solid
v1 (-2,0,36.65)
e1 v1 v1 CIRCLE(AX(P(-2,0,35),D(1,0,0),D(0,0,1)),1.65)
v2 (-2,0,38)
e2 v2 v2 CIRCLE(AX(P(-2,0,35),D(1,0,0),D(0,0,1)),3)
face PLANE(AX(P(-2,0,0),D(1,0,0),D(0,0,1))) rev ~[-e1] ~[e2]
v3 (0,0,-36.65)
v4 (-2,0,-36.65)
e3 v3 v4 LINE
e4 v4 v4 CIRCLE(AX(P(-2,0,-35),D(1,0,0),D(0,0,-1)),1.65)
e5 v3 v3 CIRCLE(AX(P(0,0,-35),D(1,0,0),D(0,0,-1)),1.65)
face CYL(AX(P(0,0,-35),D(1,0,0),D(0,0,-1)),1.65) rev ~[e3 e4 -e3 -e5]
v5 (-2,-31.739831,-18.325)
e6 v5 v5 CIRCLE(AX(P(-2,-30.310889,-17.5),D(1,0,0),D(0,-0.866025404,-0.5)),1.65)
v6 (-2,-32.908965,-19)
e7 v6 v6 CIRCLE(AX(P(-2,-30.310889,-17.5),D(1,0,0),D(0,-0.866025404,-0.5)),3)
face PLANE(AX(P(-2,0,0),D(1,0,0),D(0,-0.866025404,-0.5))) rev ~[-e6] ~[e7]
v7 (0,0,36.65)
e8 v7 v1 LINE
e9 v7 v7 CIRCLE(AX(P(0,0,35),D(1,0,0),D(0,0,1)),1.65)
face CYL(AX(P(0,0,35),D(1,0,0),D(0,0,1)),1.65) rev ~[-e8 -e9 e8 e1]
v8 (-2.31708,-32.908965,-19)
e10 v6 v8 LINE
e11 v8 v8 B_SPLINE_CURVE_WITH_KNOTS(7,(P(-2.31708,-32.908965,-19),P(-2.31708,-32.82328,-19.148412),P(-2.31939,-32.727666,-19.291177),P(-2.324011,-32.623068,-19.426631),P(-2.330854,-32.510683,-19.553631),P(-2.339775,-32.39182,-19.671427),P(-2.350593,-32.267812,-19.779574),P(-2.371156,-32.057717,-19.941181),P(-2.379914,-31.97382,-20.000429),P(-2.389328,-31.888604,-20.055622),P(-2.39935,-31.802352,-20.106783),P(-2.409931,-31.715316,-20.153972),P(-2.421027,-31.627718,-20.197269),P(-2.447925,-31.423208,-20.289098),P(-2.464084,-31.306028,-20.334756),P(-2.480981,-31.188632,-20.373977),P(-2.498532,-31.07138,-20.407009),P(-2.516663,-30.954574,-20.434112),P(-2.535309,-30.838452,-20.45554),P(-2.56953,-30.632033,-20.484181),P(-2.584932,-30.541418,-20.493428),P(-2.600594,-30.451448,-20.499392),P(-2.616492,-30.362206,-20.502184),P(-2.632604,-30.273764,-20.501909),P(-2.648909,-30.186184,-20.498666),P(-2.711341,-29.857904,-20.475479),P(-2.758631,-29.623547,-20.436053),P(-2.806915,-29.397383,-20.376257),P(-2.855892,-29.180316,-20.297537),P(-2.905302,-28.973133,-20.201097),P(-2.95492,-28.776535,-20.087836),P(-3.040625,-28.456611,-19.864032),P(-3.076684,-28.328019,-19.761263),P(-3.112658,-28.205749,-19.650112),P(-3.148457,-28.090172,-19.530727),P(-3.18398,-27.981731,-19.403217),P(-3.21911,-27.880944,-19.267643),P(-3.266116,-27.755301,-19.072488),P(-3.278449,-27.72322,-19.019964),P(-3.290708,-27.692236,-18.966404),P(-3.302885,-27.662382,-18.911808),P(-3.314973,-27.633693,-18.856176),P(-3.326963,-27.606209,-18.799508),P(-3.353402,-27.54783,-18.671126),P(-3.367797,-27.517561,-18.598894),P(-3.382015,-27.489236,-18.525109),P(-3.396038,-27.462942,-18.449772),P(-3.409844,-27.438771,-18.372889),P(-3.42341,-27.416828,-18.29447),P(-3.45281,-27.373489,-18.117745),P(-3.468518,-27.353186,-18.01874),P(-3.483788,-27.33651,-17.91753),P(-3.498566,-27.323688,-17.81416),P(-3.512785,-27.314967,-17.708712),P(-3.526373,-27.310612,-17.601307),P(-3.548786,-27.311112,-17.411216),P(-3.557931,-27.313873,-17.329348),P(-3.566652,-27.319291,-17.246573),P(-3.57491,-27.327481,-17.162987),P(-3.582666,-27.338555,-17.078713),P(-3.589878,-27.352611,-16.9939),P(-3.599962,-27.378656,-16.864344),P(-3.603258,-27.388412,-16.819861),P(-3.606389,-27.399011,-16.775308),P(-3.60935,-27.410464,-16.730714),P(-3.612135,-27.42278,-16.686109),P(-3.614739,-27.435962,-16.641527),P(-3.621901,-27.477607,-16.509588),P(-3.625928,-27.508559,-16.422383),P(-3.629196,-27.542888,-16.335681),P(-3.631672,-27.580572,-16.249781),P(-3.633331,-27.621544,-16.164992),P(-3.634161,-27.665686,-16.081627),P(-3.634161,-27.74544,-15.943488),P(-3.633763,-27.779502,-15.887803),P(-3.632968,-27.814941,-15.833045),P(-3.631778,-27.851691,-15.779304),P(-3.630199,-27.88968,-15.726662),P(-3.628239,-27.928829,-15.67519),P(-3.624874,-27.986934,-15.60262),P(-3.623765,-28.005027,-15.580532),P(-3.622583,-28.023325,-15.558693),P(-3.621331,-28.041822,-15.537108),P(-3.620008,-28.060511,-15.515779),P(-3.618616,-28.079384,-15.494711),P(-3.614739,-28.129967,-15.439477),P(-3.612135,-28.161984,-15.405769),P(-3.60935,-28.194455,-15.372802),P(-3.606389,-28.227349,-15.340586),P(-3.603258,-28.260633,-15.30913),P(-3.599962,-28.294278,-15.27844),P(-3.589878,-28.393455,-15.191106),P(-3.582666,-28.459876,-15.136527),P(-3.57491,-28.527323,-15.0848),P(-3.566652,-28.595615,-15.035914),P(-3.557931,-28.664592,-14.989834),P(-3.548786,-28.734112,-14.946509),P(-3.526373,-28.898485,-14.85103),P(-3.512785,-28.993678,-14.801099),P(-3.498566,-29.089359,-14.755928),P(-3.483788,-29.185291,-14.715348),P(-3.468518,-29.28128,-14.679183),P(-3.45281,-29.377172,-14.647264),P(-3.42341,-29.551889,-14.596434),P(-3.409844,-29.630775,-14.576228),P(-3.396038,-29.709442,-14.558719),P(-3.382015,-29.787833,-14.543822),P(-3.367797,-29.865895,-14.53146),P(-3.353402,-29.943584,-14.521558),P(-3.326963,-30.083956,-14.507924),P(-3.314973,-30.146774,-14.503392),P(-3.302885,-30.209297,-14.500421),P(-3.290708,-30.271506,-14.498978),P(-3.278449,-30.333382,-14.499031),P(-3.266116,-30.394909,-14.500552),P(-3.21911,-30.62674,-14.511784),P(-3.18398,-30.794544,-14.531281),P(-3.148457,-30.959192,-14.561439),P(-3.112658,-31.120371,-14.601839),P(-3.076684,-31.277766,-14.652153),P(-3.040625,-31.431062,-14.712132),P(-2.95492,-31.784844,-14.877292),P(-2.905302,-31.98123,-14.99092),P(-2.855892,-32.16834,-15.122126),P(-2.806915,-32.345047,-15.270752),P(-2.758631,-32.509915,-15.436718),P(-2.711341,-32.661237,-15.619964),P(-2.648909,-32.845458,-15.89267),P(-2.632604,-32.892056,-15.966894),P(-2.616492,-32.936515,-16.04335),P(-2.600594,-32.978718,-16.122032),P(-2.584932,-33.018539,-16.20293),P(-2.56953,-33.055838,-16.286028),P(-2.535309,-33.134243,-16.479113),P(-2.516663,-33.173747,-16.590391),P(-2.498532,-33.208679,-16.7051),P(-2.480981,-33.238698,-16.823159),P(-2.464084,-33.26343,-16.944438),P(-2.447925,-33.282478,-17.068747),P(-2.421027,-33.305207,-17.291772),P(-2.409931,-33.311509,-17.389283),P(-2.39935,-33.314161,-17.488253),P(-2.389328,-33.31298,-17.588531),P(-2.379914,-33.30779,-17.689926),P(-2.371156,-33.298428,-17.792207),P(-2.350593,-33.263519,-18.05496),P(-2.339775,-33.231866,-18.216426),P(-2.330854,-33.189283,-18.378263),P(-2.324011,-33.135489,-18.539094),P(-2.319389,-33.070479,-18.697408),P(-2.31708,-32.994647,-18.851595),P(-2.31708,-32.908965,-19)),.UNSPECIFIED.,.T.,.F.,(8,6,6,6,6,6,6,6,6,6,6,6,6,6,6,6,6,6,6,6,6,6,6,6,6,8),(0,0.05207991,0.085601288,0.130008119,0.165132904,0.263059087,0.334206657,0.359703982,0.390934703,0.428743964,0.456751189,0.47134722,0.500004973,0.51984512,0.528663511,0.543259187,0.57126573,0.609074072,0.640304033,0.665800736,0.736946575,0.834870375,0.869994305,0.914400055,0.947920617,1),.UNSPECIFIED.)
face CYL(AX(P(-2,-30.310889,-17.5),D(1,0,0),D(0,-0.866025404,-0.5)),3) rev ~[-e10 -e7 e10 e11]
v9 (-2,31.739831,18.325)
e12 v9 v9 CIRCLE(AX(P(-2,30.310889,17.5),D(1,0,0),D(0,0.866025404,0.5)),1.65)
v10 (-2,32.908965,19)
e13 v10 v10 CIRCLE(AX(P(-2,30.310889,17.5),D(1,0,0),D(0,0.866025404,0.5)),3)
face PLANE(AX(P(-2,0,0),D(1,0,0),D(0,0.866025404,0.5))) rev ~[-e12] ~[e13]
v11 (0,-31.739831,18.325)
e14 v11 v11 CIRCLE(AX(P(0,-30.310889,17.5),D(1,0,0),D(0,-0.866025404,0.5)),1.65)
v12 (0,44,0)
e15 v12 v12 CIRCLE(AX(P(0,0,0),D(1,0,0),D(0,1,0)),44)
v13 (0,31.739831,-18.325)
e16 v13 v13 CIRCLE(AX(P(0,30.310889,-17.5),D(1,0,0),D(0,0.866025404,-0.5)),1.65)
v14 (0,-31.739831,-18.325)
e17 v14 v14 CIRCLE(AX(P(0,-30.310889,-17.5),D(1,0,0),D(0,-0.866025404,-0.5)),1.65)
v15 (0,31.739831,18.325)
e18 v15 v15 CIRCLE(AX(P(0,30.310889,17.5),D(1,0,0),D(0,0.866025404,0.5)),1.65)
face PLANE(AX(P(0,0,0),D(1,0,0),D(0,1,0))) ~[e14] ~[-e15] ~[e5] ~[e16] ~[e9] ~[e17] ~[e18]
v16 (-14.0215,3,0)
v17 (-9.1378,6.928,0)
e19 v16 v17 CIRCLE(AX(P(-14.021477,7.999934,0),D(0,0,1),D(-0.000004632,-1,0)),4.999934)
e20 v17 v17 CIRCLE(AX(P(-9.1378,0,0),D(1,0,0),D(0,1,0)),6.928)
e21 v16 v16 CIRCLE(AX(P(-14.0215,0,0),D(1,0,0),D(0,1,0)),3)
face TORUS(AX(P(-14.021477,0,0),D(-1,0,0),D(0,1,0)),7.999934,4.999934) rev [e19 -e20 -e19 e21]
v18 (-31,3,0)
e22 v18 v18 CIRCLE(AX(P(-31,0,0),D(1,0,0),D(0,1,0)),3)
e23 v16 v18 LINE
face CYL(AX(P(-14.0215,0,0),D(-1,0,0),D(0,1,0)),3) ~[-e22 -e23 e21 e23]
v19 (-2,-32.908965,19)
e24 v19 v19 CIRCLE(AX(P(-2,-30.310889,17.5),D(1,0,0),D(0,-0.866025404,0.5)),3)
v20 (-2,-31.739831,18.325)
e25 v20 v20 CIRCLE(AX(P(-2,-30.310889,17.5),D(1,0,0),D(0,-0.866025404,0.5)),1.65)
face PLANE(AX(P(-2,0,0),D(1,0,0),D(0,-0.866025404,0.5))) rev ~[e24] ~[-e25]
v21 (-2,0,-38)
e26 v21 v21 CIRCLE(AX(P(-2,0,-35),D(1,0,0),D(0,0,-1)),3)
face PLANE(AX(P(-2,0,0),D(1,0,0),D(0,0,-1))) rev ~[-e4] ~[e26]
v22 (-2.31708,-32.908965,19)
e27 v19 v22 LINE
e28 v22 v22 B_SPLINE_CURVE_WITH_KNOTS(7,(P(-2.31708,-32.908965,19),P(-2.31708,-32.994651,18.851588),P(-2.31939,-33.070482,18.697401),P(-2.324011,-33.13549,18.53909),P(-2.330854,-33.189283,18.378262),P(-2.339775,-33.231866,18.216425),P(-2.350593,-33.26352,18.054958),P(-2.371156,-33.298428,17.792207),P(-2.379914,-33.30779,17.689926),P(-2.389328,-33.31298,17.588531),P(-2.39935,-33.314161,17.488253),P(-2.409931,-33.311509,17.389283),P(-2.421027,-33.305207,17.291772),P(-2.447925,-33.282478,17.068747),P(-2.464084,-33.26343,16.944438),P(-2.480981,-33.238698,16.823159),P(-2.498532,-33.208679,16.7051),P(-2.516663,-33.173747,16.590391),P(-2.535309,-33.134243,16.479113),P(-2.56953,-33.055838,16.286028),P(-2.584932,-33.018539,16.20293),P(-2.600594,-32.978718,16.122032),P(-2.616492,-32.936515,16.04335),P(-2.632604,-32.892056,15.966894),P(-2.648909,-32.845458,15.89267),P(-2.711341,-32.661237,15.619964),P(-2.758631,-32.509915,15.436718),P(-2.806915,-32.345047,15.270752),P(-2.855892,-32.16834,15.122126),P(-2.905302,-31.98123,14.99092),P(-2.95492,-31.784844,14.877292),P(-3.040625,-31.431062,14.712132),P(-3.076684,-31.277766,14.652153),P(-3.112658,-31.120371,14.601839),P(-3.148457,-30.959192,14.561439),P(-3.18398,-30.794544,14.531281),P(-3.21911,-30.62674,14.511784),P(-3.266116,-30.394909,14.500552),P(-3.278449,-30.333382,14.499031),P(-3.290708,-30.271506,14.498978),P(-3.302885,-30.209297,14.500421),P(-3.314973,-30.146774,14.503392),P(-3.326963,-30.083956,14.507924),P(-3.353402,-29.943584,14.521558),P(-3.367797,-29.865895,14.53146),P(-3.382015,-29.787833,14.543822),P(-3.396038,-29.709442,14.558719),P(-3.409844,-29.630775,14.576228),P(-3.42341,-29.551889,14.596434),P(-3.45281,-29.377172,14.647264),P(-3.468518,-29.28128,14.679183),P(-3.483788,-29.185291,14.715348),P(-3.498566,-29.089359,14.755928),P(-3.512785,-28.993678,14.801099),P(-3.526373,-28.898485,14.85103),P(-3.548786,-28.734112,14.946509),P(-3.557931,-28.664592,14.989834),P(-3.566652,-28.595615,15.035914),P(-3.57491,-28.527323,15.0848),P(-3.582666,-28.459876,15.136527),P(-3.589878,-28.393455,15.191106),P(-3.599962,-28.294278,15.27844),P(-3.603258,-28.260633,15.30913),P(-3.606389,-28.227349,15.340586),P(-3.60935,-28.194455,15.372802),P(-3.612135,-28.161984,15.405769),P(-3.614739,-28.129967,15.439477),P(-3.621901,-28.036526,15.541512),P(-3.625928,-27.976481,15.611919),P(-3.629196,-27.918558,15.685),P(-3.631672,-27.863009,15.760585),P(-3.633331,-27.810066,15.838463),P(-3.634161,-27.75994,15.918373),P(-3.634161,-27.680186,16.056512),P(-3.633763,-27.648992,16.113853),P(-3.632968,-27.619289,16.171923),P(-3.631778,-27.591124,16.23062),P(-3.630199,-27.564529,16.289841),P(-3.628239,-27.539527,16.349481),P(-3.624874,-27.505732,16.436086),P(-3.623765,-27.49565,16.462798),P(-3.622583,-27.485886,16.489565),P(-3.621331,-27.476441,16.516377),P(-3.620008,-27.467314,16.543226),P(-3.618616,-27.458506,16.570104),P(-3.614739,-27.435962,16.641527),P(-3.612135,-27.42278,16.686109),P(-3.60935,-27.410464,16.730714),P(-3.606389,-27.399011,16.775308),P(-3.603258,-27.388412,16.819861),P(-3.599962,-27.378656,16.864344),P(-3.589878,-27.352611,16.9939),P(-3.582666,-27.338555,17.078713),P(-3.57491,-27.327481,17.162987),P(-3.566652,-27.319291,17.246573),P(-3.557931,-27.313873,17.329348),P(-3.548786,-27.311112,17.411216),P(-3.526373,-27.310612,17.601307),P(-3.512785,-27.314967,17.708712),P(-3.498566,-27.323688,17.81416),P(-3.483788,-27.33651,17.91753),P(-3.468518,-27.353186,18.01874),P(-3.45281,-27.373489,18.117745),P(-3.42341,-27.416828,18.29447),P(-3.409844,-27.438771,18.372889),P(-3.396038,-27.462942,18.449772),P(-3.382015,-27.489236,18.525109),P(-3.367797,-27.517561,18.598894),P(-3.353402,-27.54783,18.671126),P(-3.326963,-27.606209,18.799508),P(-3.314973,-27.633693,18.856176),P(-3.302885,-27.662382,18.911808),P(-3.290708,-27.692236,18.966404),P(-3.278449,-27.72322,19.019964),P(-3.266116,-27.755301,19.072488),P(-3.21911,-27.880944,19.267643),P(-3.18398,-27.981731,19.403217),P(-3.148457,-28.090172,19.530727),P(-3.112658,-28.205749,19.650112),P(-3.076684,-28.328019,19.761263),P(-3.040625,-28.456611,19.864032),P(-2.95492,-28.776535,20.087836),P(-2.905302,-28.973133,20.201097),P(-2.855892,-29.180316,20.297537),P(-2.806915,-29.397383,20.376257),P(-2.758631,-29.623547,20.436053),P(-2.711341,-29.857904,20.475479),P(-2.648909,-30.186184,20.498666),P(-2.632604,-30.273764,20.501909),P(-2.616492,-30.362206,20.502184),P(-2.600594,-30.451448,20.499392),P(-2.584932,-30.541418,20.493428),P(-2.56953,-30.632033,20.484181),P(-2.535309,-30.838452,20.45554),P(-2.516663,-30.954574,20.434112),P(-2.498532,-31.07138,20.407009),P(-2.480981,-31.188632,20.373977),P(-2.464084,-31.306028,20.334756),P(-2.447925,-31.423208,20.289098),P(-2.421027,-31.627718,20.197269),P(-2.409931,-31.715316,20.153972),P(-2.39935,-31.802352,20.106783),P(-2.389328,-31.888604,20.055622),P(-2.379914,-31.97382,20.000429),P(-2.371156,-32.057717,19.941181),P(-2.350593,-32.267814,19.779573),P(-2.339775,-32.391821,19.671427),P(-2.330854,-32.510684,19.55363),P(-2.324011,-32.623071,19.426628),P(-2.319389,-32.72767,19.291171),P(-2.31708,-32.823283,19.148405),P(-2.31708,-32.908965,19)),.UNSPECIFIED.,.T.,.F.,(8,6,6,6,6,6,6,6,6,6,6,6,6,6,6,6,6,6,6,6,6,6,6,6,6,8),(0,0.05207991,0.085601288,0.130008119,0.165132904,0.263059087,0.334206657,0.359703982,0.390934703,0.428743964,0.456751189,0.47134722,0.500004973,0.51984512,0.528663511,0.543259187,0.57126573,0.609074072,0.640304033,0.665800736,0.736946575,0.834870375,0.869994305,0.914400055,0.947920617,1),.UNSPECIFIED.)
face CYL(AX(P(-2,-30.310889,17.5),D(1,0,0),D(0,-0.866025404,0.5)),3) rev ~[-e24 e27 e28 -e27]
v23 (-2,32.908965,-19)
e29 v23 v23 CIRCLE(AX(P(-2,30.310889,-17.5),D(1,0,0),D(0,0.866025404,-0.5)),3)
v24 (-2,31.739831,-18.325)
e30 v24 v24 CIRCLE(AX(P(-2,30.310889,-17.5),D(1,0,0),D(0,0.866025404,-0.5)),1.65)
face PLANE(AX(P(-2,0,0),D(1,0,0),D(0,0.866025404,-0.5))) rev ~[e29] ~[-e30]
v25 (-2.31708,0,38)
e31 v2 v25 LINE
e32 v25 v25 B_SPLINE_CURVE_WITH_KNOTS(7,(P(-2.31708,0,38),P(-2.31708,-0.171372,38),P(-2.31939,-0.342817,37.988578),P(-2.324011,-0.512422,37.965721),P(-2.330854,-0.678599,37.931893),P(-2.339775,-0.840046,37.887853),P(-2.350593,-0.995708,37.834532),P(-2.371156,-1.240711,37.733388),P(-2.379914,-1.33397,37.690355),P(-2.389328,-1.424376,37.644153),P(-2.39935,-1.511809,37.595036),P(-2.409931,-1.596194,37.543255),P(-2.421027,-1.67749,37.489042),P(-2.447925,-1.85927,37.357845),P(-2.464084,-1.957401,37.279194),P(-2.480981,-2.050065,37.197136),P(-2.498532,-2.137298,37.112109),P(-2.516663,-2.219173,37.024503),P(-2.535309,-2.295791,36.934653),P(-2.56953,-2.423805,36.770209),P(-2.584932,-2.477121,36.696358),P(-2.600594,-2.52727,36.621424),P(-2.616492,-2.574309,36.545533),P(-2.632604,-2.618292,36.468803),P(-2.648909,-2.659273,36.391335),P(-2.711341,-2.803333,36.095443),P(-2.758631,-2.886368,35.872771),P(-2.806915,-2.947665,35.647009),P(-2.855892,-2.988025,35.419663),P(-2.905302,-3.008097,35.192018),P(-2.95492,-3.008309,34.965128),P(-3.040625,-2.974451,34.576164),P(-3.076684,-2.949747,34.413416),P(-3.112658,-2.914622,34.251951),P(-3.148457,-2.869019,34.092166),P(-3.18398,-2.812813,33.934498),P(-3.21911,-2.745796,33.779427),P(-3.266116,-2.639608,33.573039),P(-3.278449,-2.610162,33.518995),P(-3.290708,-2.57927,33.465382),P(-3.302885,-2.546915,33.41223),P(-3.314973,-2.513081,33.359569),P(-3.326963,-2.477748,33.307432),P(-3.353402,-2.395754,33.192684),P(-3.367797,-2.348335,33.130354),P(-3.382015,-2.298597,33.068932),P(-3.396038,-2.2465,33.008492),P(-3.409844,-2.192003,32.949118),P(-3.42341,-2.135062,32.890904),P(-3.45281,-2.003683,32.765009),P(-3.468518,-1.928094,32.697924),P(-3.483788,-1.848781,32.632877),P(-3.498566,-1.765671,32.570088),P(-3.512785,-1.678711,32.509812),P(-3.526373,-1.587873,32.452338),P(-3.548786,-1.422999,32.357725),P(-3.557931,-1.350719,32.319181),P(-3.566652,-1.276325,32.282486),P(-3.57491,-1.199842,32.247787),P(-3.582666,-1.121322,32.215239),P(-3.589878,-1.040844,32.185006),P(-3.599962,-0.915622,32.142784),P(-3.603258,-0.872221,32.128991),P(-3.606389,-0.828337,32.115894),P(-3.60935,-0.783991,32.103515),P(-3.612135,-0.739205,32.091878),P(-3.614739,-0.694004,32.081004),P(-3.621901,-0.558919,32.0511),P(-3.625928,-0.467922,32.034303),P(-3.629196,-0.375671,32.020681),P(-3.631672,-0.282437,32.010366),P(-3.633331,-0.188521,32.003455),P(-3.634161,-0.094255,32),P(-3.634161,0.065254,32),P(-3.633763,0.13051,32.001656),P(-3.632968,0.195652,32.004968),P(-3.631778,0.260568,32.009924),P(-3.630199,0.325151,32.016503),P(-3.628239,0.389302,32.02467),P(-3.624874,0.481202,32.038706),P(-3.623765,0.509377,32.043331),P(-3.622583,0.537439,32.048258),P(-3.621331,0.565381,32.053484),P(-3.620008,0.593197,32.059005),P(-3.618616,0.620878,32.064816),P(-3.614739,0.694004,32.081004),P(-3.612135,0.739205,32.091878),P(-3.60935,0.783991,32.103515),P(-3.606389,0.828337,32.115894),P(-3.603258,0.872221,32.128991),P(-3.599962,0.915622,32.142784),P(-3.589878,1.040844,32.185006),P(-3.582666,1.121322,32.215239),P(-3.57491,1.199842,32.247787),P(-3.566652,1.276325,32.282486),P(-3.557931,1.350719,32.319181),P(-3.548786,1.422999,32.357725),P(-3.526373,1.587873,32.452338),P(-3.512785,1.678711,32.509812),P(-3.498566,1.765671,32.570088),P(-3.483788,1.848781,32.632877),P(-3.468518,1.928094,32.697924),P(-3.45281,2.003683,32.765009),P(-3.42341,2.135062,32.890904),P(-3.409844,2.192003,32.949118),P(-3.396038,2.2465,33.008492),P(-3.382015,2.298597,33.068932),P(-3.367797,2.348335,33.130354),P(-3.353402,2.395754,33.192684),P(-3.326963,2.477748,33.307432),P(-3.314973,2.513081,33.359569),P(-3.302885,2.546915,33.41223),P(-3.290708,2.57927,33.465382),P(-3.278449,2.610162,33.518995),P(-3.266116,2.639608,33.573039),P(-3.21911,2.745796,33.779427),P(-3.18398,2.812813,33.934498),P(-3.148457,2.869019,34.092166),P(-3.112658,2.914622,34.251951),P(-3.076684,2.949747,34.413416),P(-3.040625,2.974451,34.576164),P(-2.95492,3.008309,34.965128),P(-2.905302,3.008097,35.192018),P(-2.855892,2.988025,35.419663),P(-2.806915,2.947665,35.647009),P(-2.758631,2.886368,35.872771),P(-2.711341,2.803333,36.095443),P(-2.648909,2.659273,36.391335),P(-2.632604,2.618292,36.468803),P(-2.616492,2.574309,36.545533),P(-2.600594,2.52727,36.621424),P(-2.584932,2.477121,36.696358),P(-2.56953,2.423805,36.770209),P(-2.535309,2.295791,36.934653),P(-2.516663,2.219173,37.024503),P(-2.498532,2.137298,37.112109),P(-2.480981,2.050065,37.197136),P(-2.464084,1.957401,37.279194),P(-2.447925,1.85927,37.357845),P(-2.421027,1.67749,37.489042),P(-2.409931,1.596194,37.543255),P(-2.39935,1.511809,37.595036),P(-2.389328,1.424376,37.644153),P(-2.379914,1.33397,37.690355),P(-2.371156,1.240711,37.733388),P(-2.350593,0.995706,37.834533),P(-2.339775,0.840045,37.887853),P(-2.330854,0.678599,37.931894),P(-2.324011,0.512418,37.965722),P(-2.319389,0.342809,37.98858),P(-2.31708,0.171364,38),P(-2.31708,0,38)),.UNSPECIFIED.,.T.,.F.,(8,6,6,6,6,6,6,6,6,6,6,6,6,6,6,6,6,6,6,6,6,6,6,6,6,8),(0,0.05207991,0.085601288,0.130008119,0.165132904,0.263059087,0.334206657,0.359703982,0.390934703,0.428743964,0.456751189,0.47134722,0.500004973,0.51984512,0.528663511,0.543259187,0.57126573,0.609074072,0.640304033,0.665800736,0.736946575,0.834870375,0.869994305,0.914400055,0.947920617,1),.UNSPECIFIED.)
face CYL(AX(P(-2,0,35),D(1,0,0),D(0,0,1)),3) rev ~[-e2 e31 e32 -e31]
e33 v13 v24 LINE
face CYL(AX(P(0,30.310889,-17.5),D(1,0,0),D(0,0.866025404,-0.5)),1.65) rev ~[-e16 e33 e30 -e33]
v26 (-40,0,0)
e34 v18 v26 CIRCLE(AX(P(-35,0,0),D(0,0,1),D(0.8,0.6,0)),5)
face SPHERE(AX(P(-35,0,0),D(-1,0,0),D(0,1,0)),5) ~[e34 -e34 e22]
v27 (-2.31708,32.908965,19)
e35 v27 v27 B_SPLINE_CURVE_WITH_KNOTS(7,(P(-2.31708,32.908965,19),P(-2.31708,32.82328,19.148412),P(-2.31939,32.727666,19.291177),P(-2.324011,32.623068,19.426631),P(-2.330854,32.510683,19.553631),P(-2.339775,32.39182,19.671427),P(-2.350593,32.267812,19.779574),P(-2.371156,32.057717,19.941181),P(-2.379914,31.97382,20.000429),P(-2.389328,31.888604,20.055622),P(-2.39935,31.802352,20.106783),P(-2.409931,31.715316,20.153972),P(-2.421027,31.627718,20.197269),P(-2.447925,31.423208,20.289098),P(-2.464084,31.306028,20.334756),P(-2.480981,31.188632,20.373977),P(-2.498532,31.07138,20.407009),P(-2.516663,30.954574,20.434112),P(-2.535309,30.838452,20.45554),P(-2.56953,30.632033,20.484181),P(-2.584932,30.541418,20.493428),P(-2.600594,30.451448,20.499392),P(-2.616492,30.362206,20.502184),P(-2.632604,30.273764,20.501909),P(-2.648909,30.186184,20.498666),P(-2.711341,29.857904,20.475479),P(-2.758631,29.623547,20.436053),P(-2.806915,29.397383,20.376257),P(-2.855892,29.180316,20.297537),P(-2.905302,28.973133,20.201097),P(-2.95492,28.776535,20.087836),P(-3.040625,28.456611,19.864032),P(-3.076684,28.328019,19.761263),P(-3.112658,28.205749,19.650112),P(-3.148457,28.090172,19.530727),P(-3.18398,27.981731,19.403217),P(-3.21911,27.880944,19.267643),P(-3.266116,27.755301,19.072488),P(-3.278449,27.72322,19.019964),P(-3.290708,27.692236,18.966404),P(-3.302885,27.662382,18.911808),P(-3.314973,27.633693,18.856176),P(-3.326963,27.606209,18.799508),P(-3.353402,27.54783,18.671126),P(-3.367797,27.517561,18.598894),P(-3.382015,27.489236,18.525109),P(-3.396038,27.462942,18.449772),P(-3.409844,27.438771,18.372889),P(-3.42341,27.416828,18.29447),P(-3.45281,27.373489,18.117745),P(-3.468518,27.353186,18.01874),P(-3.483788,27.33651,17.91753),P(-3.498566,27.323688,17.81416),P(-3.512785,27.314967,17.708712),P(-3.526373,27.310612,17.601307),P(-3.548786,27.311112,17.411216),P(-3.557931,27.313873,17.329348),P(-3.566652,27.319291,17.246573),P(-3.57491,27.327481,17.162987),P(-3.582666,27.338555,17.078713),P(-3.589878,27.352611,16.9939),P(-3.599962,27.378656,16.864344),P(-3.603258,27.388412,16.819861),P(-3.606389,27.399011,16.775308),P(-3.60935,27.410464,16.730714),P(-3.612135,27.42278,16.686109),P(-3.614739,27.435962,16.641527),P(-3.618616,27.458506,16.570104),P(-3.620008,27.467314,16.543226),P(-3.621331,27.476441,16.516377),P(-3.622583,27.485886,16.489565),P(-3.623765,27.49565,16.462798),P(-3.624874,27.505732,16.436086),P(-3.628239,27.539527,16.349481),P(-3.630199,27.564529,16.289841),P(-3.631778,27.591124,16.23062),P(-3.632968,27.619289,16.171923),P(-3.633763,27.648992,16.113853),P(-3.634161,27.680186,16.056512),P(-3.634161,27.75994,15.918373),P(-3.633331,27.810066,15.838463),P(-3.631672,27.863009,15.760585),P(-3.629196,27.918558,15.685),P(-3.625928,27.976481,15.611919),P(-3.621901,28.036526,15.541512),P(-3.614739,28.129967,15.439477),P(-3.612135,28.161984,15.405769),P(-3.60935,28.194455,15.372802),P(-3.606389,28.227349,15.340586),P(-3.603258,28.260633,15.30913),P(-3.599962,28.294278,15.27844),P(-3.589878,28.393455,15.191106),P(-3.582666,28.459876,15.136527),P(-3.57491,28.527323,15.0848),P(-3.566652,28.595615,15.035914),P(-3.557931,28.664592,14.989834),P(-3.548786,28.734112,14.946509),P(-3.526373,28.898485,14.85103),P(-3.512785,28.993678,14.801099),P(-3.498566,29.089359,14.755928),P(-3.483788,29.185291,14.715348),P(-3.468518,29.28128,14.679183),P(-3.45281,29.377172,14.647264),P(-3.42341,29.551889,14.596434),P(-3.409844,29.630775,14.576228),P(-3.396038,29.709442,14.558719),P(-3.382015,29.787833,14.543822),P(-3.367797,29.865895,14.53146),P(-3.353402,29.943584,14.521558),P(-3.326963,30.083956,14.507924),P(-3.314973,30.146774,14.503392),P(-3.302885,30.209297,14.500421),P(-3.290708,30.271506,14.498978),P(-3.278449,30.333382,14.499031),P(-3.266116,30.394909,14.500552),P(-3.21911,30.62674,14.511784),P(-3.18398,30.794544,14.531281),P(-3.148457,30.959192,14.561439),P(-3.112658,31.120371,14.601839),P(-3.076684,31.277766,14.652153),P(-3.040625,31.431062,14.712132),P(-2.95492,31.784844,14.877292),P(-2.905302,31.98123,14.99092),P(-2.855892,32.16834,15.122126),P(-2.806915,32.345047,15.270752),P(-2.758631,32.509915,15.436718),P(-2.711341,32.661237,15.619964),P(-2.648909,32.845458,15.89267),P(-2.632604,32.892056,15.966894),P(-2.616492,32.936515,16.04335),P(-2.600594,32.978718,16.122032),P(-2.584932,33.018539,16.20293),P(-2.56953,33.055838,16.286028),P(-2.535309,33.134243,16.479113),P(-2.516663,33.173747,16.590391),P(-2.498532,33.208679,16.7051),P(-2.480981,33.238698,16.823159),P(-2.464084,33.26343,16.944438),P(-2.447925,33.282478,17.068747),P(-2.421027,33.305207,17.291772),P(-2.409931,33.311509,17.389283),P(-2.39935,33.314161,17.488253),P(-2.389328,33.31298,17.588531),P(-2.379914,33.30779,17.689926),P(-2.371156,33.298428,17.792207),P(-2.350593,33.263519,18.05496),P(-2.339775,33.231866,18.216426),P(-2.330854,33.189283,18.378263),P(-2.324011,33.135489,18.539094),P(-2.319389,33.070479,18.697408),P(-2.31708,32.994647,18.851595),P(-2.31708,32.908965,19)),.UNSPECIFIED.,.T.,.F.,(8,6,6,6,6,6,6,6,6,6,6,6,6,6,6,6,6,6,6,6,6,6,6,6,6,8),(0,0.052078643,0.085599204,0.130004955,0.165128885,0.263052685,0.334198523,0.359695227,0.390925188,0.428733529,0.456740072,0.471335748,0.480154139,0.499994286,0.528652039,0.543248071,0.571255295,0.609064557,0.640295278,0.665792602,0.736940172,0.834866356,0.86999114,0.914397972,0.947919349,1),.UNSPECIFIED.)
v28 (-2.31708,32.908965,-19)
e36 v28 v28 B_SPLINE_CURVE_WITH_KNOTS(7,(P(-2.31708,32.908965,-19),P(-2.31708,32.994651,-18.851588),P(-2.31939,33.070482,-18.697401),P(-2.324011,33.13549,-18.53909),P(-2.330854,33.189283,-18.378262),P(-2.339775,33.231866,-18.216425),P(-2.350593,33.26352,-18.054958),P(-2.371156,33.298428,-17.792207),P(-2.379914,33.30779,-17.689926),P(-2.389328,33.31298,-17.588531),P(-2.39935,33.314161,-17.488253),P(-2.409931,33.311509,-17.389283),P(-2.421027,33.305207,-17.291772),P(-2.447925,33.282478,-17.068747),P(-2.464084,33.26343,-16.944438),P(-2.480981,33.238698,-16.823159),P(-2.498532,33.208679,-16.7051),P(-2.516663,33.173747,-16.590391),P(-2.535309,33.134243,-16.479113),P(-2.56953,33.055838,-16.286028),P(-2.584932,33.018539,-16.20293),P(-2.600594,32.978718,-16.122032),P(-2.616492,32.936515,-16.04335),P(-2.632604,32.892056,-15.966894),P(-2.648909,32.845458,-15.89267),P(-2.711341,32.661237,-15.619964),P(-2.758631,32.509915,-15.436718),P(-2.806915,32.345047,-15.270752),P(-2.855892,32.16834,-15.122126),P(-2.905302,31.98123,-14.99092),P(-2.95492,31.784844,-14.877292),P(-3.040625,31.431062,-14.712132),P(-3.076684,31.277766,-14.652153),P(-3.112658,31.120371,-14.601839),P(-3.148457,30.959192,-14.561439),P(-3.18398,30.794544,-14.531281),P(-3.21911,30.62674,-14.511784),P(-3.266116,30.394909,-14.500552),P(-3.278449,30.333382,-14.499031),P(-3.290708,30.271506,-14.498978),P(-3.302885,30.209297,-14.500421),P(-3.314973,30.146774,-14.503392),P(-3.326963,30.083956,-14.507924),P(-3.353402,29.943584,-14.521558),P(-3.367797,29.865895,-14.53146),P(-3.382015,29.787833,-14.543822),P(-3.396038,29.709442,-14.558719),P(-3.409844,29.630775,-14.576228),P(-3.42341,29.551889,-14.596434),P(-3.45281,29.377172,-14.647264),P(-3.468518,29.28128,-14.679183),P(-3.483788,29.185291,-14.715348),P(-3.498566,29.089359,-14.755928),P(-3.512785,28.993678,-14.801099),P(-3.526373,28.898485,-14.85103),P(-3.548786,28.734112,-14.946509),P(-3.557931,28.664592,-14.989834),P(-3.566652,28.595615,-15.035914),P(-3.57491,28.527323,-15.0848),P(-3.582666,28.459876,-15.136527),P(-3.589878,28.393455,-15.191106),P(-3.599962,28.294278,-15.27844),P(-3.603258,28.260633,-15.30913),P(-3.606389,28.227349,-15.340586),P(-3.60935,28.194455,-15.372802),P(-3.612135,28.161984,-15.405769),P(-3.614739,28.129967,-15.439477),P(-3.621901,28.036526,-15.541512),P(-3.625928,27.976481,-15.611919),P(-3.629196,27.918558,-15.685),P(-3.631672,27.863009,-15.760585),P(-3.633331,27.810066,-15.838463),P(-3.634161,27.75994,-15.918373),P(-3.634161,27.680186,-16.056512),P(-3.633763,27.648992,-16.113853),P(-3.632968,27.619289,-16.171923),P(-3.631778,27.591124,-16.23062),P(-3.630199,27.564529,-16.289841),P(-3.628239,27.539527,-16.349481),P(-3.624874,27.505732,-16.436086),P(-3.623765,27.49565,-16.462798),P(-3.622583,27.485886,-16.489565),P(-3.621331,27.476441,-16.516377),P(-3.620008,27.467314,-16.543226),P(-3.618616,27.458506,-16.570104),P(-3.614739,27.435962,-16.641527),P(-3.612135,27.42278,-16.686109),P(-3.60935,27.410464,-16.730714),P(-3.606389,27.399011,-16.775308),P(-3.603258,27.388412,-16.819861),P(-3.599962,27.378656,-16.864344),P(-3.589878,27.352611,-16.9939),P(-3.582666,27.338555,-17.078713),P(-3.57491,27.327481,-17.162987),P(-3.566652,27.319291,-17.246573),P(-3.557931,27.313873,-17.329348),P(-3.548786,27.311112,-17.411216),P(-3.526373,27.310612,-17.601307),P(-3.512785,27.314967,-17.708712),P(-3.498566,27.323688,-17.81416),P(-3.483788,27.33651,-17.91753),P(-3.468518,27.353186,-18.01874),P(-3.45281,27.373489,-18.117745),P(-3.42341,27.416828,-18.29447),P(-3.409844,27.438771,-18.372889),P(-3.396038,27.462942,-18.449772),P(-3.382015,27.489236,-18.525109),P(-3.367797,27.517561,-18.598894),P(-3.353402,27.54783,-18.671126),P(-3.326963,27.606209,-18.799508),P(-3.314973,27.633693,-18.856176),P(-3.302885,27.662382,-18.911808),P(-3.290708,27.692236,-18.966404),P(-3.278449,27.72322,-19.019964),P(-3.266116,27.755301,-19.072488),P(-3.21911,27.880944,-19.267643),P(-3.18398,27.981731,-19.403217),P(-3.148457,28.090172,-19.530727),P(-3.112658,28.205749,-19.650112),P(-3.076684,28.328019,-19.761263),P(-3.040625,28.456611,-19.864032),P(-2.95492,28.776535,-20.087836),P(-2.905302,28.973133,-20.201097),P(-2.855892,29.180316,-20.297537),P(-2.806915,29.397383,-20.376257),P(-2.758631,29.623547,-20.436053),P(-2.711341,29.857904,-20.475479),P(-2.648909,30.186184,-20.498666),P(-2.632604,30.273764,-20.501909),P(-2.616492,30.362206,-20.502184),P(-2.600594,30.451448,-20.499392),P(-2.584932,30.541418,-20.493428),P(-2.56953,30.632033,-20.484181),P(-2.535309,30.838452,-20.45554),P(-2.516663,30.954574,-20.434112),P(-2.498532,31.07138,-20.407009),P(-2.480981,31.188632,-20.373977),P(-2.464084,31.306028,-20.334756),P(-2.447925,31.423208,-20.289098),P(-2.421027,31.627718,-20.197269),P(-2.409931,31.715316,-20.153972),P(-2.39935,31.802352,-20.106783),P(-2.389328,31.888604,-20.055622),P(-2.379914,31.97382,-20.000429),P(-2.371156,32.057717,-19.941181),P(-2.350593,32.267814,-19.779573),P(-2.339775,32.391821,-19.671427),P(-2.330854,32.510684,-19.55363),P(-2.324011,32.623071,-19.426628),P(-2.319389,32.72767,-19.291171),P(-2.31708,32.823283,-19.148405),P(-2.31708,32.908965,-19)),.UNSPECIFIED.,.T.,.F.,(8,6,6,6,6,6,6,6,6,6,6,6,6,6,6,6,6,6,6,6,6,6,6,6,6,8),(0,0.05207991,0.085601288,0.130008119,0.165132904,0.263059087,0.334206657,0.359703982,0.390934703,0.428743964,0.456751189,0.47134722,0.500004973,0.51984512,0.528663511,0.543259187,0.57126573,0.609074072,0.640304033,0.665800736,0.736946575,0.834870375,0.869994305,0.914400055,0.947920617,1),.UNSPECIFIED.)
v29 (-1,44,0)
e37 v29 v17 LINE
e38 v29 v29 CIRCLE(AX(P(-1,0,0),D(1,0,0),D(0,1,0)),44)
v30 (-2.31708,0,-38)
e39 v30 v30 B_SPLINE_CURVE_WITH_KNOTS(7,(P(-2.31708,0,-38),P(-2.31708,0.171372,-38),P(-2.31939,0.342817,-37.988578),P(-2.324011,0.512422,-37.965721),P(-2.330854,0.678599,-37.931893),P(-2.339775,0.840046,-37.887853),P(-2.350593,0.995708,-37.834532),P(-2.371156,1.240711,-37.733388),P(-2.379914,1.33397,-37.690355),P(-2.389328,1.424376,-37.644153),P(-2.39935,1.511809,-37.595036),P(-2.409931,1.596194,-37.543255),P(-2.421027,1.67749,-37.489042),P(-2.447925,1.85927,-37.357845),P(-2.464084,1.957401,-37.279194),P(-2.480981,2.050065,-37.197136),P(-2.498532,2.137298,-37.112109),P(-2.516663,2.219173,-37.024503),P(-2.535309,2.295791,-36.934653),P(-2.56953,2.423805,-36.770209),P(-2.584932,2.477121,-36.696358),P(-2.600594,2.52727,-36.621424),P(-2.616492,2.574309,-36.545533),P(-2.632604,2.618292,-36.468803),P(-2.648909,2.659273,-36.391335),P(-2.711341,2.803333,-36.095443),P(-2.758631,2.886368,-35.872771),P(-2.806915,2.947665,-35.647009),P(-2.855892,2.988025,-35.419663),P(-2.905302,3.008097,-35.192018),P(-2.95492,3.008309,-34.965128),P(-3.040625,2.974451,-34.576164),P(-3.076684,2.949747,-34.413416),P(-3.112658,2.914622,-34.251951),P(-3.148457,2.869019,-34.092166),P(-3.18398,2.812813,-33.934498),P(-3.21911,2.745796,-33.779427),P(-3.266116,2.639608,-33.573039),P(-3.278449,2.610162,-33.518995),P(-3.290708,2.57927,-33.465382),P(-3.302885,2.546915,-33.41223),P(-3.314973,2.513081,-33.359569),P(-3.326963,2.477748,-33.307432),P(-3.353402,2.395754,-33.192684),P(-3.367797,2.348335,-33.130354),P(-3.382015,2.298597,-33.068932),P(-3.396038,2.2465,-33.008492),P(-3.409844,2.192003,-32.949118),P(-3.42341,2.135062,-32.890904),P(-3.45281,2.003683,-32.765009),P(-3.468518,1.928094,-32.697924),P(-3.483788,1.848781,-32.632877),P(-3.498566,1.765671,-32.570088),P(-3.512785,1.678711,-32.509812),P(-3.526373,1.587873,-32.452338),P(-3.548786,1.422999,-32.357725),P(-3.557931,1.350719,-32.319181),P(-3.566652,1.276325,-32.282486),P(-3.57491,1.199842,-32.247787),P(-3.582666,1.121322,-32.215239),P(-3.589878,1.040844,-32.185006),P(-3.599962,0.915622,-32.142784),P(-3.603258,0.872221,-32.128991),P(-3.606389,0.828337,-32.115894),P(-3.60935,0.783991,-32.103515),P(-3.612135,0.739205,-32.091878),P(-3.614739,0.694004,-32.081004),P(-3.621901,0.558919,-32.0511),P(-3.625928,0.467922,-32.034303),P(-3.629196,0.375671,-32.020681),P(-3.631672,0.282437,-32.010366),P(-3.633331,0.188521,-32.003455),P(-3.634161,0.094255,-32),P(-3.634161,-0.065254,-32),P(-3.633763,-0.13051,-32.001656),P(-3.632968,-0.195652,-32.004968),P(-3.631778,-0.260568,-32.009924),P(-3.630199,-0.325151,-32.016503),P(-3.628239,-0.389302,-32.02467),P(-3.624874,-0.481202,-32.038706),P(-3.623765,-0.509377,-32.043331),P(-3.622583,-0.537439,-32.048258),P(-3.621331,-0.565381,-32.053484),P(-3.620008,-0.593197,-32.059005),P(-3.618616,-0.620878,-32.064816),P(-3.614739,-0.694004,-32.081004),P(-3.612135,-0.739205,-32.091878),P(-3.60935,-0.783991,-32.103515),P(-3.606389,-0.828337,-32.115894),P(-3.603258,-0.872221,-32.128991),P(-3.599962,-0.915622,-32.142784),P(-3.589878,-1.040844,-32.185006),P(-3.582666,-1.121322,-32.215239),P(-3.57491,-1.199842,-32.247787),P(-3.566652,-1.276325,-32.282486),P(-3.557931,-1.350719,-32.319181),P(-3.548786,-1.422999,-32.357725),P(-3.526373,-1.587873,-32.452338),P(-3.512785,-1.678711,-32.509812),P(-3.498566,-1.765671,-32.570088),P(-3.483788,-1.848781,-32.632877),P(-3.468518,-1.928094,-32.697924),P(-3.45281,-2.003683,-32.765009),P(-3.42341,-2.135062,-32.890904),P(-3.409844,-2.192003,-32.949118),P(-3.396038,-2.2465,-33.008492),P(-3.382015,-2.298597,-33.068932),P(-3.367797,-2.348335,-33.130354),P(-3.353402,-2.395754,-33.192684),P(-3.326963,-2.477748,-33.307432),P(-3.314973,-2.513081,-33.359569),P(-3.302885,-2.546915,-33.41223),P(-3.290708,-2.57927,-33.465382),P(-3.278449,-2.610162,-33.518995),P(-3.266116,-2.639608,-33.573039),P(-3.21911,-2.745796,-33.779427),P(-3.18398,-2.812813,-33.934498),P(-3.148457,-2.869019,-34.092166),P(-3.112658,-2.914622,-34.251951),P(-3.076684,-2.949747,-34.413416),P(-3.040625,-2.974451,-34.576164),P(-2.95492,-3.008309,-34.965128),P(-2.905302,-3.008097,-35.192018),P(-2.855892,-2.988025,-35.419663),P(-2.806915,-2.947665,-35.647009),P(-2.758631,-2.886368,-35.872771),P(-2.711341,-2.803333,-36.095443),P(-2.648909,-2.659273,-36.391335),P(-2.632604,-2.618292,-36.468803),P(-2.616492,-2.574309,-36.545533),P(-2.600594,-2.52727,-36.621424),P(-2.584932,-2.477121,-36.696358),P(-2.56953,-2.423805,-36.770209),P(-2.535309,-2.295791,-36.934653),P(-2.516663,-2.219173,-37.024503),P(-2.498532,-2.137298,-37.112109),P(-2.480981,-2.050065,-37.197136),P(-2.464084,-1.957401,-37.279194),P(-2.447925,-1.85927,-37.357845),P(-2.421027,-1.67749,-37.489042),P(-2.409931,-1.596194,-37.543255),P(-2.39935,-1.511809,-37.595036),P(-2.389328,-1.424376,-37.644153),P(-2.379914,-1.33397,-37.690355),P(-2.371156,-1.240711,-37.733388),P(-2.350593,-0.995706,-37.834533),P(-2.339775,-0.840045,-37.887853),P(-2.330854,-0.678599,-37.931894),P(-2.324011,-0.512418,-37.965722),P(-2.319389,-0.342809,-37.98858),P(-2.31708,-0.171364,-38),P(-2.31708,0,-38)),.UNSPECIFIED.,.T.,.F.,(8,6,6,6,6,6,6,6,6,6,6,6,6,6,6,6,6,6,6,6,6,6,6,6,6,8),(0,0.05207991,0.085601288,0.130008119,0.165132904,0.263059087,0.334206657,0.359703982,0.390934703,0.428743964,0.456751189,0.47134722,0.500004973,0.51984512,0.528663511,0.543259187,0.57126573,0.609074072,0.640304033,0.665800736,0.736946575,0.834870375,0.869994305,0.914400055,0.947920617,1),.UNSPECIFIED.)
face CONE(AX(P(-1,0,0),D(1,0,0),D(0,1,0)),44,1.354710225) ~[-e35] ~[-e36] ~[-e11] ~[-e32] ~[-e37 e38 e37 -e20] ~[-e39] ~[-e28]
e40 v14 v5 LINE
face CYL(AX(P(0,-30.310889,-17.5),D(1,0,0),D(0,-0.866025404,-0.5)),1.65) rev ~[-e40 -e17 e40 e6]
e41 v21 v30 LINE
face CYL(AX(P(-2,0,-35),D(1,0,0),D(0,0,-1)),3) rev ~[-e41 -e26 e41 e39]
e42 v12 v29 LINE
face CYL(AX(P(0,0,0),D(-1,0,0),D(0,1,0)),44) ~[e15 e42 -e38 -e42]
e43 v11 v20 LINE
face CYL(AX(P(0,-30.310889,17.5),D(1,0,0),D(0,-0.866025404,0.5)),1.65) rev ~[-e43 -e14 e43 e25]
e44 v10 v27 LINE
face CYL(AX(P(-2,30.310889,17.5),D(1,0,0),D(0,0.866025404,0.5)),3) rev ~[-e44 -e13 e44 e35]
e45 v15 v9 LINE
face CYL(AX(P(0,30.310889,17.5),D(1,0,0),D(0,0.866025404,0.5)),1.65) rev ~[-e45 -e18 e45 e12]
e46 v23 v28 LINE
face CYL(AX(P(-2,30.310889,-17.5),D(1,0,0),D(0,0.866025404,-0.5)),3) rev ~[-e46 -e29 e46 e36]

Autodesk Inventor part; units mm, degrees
ref_plane "YZ Plane" through (0, 0, 0) normal (1, 0, 0) x (0, 1, 0)
ref_plane "XZ Plane" through (0, 0, 0) normal (0, 1, 0) x (-1, 0, 0)
sketch "Sketch1" plane through (0, 0, 0) normal (0, 0, 1) x (1, 0, 0)
  line L0 (0, 0) -> (0, 44)
  line L1 (-14.0215, 3) -> (-31, 3)
  arc A0 (-31, 3) -> (-40, 0) centre (-35, 0) ccw
  line L2 (-40, 0) -> (0, 0)
  line L3 (0, 44) -> (-1, 44)
  line L4 (-1, 44) -> (-9.1378, 6.928)
  arc A1 (-14.0215, 3) -> (-9.1378, 6.928) centre (-14.0215, 8) ccw
  point P0 (-10, 3)
  dimension "d0" = 44
  dimension "d1" = 5
  dimension "d2" = 3
  dimension "d3" = 1
  dimension "d4" = 35
  dimension "d5" = 10
  dimension "d18" = 5
revolve "Revolution1" add sketch "Sketch1" angle 360 about axis through (-40, 0, 0) along (1, 0, 0)
sketch "Sketch2" plane through (0, 0, 0) normal (1, 0, 0) x (0, 0, -1)
  line L0 (0, 0) -> (35, 0) construction
  circle A0 centre (35, 0) radius 1.65
  dimension "d7" = 3.3
  dimension "d8" = 35
extrude "Extrusion1" cut sketch "Sketch2" against normal through all
ref_plane "Work Plane1" through (-2, 0, 0) normal (1, 0, 0) x (0, 0, -1)
sketch "Sketch3" plane through (-2, 0, 0) normal (1, 0, 0) x (0, 0, -1)
  circle A0 centre (35, 0) radius 3
  circle A1 centre (35, 0) radius 1.65 projected
  point P0 (0, 0)
  dimension "d12" = 6
extrude "Extrusion2" cut sketch "Sketch3" against normal through all contours A0 | A1
pattern_circular "Circular Pattern1" count 6 over 360 about axis through (-22.5107, 0, 0) along (1, 0, 0) of "Extrusion2", "Extrusion1"
properties part number "TrainingTarget"
